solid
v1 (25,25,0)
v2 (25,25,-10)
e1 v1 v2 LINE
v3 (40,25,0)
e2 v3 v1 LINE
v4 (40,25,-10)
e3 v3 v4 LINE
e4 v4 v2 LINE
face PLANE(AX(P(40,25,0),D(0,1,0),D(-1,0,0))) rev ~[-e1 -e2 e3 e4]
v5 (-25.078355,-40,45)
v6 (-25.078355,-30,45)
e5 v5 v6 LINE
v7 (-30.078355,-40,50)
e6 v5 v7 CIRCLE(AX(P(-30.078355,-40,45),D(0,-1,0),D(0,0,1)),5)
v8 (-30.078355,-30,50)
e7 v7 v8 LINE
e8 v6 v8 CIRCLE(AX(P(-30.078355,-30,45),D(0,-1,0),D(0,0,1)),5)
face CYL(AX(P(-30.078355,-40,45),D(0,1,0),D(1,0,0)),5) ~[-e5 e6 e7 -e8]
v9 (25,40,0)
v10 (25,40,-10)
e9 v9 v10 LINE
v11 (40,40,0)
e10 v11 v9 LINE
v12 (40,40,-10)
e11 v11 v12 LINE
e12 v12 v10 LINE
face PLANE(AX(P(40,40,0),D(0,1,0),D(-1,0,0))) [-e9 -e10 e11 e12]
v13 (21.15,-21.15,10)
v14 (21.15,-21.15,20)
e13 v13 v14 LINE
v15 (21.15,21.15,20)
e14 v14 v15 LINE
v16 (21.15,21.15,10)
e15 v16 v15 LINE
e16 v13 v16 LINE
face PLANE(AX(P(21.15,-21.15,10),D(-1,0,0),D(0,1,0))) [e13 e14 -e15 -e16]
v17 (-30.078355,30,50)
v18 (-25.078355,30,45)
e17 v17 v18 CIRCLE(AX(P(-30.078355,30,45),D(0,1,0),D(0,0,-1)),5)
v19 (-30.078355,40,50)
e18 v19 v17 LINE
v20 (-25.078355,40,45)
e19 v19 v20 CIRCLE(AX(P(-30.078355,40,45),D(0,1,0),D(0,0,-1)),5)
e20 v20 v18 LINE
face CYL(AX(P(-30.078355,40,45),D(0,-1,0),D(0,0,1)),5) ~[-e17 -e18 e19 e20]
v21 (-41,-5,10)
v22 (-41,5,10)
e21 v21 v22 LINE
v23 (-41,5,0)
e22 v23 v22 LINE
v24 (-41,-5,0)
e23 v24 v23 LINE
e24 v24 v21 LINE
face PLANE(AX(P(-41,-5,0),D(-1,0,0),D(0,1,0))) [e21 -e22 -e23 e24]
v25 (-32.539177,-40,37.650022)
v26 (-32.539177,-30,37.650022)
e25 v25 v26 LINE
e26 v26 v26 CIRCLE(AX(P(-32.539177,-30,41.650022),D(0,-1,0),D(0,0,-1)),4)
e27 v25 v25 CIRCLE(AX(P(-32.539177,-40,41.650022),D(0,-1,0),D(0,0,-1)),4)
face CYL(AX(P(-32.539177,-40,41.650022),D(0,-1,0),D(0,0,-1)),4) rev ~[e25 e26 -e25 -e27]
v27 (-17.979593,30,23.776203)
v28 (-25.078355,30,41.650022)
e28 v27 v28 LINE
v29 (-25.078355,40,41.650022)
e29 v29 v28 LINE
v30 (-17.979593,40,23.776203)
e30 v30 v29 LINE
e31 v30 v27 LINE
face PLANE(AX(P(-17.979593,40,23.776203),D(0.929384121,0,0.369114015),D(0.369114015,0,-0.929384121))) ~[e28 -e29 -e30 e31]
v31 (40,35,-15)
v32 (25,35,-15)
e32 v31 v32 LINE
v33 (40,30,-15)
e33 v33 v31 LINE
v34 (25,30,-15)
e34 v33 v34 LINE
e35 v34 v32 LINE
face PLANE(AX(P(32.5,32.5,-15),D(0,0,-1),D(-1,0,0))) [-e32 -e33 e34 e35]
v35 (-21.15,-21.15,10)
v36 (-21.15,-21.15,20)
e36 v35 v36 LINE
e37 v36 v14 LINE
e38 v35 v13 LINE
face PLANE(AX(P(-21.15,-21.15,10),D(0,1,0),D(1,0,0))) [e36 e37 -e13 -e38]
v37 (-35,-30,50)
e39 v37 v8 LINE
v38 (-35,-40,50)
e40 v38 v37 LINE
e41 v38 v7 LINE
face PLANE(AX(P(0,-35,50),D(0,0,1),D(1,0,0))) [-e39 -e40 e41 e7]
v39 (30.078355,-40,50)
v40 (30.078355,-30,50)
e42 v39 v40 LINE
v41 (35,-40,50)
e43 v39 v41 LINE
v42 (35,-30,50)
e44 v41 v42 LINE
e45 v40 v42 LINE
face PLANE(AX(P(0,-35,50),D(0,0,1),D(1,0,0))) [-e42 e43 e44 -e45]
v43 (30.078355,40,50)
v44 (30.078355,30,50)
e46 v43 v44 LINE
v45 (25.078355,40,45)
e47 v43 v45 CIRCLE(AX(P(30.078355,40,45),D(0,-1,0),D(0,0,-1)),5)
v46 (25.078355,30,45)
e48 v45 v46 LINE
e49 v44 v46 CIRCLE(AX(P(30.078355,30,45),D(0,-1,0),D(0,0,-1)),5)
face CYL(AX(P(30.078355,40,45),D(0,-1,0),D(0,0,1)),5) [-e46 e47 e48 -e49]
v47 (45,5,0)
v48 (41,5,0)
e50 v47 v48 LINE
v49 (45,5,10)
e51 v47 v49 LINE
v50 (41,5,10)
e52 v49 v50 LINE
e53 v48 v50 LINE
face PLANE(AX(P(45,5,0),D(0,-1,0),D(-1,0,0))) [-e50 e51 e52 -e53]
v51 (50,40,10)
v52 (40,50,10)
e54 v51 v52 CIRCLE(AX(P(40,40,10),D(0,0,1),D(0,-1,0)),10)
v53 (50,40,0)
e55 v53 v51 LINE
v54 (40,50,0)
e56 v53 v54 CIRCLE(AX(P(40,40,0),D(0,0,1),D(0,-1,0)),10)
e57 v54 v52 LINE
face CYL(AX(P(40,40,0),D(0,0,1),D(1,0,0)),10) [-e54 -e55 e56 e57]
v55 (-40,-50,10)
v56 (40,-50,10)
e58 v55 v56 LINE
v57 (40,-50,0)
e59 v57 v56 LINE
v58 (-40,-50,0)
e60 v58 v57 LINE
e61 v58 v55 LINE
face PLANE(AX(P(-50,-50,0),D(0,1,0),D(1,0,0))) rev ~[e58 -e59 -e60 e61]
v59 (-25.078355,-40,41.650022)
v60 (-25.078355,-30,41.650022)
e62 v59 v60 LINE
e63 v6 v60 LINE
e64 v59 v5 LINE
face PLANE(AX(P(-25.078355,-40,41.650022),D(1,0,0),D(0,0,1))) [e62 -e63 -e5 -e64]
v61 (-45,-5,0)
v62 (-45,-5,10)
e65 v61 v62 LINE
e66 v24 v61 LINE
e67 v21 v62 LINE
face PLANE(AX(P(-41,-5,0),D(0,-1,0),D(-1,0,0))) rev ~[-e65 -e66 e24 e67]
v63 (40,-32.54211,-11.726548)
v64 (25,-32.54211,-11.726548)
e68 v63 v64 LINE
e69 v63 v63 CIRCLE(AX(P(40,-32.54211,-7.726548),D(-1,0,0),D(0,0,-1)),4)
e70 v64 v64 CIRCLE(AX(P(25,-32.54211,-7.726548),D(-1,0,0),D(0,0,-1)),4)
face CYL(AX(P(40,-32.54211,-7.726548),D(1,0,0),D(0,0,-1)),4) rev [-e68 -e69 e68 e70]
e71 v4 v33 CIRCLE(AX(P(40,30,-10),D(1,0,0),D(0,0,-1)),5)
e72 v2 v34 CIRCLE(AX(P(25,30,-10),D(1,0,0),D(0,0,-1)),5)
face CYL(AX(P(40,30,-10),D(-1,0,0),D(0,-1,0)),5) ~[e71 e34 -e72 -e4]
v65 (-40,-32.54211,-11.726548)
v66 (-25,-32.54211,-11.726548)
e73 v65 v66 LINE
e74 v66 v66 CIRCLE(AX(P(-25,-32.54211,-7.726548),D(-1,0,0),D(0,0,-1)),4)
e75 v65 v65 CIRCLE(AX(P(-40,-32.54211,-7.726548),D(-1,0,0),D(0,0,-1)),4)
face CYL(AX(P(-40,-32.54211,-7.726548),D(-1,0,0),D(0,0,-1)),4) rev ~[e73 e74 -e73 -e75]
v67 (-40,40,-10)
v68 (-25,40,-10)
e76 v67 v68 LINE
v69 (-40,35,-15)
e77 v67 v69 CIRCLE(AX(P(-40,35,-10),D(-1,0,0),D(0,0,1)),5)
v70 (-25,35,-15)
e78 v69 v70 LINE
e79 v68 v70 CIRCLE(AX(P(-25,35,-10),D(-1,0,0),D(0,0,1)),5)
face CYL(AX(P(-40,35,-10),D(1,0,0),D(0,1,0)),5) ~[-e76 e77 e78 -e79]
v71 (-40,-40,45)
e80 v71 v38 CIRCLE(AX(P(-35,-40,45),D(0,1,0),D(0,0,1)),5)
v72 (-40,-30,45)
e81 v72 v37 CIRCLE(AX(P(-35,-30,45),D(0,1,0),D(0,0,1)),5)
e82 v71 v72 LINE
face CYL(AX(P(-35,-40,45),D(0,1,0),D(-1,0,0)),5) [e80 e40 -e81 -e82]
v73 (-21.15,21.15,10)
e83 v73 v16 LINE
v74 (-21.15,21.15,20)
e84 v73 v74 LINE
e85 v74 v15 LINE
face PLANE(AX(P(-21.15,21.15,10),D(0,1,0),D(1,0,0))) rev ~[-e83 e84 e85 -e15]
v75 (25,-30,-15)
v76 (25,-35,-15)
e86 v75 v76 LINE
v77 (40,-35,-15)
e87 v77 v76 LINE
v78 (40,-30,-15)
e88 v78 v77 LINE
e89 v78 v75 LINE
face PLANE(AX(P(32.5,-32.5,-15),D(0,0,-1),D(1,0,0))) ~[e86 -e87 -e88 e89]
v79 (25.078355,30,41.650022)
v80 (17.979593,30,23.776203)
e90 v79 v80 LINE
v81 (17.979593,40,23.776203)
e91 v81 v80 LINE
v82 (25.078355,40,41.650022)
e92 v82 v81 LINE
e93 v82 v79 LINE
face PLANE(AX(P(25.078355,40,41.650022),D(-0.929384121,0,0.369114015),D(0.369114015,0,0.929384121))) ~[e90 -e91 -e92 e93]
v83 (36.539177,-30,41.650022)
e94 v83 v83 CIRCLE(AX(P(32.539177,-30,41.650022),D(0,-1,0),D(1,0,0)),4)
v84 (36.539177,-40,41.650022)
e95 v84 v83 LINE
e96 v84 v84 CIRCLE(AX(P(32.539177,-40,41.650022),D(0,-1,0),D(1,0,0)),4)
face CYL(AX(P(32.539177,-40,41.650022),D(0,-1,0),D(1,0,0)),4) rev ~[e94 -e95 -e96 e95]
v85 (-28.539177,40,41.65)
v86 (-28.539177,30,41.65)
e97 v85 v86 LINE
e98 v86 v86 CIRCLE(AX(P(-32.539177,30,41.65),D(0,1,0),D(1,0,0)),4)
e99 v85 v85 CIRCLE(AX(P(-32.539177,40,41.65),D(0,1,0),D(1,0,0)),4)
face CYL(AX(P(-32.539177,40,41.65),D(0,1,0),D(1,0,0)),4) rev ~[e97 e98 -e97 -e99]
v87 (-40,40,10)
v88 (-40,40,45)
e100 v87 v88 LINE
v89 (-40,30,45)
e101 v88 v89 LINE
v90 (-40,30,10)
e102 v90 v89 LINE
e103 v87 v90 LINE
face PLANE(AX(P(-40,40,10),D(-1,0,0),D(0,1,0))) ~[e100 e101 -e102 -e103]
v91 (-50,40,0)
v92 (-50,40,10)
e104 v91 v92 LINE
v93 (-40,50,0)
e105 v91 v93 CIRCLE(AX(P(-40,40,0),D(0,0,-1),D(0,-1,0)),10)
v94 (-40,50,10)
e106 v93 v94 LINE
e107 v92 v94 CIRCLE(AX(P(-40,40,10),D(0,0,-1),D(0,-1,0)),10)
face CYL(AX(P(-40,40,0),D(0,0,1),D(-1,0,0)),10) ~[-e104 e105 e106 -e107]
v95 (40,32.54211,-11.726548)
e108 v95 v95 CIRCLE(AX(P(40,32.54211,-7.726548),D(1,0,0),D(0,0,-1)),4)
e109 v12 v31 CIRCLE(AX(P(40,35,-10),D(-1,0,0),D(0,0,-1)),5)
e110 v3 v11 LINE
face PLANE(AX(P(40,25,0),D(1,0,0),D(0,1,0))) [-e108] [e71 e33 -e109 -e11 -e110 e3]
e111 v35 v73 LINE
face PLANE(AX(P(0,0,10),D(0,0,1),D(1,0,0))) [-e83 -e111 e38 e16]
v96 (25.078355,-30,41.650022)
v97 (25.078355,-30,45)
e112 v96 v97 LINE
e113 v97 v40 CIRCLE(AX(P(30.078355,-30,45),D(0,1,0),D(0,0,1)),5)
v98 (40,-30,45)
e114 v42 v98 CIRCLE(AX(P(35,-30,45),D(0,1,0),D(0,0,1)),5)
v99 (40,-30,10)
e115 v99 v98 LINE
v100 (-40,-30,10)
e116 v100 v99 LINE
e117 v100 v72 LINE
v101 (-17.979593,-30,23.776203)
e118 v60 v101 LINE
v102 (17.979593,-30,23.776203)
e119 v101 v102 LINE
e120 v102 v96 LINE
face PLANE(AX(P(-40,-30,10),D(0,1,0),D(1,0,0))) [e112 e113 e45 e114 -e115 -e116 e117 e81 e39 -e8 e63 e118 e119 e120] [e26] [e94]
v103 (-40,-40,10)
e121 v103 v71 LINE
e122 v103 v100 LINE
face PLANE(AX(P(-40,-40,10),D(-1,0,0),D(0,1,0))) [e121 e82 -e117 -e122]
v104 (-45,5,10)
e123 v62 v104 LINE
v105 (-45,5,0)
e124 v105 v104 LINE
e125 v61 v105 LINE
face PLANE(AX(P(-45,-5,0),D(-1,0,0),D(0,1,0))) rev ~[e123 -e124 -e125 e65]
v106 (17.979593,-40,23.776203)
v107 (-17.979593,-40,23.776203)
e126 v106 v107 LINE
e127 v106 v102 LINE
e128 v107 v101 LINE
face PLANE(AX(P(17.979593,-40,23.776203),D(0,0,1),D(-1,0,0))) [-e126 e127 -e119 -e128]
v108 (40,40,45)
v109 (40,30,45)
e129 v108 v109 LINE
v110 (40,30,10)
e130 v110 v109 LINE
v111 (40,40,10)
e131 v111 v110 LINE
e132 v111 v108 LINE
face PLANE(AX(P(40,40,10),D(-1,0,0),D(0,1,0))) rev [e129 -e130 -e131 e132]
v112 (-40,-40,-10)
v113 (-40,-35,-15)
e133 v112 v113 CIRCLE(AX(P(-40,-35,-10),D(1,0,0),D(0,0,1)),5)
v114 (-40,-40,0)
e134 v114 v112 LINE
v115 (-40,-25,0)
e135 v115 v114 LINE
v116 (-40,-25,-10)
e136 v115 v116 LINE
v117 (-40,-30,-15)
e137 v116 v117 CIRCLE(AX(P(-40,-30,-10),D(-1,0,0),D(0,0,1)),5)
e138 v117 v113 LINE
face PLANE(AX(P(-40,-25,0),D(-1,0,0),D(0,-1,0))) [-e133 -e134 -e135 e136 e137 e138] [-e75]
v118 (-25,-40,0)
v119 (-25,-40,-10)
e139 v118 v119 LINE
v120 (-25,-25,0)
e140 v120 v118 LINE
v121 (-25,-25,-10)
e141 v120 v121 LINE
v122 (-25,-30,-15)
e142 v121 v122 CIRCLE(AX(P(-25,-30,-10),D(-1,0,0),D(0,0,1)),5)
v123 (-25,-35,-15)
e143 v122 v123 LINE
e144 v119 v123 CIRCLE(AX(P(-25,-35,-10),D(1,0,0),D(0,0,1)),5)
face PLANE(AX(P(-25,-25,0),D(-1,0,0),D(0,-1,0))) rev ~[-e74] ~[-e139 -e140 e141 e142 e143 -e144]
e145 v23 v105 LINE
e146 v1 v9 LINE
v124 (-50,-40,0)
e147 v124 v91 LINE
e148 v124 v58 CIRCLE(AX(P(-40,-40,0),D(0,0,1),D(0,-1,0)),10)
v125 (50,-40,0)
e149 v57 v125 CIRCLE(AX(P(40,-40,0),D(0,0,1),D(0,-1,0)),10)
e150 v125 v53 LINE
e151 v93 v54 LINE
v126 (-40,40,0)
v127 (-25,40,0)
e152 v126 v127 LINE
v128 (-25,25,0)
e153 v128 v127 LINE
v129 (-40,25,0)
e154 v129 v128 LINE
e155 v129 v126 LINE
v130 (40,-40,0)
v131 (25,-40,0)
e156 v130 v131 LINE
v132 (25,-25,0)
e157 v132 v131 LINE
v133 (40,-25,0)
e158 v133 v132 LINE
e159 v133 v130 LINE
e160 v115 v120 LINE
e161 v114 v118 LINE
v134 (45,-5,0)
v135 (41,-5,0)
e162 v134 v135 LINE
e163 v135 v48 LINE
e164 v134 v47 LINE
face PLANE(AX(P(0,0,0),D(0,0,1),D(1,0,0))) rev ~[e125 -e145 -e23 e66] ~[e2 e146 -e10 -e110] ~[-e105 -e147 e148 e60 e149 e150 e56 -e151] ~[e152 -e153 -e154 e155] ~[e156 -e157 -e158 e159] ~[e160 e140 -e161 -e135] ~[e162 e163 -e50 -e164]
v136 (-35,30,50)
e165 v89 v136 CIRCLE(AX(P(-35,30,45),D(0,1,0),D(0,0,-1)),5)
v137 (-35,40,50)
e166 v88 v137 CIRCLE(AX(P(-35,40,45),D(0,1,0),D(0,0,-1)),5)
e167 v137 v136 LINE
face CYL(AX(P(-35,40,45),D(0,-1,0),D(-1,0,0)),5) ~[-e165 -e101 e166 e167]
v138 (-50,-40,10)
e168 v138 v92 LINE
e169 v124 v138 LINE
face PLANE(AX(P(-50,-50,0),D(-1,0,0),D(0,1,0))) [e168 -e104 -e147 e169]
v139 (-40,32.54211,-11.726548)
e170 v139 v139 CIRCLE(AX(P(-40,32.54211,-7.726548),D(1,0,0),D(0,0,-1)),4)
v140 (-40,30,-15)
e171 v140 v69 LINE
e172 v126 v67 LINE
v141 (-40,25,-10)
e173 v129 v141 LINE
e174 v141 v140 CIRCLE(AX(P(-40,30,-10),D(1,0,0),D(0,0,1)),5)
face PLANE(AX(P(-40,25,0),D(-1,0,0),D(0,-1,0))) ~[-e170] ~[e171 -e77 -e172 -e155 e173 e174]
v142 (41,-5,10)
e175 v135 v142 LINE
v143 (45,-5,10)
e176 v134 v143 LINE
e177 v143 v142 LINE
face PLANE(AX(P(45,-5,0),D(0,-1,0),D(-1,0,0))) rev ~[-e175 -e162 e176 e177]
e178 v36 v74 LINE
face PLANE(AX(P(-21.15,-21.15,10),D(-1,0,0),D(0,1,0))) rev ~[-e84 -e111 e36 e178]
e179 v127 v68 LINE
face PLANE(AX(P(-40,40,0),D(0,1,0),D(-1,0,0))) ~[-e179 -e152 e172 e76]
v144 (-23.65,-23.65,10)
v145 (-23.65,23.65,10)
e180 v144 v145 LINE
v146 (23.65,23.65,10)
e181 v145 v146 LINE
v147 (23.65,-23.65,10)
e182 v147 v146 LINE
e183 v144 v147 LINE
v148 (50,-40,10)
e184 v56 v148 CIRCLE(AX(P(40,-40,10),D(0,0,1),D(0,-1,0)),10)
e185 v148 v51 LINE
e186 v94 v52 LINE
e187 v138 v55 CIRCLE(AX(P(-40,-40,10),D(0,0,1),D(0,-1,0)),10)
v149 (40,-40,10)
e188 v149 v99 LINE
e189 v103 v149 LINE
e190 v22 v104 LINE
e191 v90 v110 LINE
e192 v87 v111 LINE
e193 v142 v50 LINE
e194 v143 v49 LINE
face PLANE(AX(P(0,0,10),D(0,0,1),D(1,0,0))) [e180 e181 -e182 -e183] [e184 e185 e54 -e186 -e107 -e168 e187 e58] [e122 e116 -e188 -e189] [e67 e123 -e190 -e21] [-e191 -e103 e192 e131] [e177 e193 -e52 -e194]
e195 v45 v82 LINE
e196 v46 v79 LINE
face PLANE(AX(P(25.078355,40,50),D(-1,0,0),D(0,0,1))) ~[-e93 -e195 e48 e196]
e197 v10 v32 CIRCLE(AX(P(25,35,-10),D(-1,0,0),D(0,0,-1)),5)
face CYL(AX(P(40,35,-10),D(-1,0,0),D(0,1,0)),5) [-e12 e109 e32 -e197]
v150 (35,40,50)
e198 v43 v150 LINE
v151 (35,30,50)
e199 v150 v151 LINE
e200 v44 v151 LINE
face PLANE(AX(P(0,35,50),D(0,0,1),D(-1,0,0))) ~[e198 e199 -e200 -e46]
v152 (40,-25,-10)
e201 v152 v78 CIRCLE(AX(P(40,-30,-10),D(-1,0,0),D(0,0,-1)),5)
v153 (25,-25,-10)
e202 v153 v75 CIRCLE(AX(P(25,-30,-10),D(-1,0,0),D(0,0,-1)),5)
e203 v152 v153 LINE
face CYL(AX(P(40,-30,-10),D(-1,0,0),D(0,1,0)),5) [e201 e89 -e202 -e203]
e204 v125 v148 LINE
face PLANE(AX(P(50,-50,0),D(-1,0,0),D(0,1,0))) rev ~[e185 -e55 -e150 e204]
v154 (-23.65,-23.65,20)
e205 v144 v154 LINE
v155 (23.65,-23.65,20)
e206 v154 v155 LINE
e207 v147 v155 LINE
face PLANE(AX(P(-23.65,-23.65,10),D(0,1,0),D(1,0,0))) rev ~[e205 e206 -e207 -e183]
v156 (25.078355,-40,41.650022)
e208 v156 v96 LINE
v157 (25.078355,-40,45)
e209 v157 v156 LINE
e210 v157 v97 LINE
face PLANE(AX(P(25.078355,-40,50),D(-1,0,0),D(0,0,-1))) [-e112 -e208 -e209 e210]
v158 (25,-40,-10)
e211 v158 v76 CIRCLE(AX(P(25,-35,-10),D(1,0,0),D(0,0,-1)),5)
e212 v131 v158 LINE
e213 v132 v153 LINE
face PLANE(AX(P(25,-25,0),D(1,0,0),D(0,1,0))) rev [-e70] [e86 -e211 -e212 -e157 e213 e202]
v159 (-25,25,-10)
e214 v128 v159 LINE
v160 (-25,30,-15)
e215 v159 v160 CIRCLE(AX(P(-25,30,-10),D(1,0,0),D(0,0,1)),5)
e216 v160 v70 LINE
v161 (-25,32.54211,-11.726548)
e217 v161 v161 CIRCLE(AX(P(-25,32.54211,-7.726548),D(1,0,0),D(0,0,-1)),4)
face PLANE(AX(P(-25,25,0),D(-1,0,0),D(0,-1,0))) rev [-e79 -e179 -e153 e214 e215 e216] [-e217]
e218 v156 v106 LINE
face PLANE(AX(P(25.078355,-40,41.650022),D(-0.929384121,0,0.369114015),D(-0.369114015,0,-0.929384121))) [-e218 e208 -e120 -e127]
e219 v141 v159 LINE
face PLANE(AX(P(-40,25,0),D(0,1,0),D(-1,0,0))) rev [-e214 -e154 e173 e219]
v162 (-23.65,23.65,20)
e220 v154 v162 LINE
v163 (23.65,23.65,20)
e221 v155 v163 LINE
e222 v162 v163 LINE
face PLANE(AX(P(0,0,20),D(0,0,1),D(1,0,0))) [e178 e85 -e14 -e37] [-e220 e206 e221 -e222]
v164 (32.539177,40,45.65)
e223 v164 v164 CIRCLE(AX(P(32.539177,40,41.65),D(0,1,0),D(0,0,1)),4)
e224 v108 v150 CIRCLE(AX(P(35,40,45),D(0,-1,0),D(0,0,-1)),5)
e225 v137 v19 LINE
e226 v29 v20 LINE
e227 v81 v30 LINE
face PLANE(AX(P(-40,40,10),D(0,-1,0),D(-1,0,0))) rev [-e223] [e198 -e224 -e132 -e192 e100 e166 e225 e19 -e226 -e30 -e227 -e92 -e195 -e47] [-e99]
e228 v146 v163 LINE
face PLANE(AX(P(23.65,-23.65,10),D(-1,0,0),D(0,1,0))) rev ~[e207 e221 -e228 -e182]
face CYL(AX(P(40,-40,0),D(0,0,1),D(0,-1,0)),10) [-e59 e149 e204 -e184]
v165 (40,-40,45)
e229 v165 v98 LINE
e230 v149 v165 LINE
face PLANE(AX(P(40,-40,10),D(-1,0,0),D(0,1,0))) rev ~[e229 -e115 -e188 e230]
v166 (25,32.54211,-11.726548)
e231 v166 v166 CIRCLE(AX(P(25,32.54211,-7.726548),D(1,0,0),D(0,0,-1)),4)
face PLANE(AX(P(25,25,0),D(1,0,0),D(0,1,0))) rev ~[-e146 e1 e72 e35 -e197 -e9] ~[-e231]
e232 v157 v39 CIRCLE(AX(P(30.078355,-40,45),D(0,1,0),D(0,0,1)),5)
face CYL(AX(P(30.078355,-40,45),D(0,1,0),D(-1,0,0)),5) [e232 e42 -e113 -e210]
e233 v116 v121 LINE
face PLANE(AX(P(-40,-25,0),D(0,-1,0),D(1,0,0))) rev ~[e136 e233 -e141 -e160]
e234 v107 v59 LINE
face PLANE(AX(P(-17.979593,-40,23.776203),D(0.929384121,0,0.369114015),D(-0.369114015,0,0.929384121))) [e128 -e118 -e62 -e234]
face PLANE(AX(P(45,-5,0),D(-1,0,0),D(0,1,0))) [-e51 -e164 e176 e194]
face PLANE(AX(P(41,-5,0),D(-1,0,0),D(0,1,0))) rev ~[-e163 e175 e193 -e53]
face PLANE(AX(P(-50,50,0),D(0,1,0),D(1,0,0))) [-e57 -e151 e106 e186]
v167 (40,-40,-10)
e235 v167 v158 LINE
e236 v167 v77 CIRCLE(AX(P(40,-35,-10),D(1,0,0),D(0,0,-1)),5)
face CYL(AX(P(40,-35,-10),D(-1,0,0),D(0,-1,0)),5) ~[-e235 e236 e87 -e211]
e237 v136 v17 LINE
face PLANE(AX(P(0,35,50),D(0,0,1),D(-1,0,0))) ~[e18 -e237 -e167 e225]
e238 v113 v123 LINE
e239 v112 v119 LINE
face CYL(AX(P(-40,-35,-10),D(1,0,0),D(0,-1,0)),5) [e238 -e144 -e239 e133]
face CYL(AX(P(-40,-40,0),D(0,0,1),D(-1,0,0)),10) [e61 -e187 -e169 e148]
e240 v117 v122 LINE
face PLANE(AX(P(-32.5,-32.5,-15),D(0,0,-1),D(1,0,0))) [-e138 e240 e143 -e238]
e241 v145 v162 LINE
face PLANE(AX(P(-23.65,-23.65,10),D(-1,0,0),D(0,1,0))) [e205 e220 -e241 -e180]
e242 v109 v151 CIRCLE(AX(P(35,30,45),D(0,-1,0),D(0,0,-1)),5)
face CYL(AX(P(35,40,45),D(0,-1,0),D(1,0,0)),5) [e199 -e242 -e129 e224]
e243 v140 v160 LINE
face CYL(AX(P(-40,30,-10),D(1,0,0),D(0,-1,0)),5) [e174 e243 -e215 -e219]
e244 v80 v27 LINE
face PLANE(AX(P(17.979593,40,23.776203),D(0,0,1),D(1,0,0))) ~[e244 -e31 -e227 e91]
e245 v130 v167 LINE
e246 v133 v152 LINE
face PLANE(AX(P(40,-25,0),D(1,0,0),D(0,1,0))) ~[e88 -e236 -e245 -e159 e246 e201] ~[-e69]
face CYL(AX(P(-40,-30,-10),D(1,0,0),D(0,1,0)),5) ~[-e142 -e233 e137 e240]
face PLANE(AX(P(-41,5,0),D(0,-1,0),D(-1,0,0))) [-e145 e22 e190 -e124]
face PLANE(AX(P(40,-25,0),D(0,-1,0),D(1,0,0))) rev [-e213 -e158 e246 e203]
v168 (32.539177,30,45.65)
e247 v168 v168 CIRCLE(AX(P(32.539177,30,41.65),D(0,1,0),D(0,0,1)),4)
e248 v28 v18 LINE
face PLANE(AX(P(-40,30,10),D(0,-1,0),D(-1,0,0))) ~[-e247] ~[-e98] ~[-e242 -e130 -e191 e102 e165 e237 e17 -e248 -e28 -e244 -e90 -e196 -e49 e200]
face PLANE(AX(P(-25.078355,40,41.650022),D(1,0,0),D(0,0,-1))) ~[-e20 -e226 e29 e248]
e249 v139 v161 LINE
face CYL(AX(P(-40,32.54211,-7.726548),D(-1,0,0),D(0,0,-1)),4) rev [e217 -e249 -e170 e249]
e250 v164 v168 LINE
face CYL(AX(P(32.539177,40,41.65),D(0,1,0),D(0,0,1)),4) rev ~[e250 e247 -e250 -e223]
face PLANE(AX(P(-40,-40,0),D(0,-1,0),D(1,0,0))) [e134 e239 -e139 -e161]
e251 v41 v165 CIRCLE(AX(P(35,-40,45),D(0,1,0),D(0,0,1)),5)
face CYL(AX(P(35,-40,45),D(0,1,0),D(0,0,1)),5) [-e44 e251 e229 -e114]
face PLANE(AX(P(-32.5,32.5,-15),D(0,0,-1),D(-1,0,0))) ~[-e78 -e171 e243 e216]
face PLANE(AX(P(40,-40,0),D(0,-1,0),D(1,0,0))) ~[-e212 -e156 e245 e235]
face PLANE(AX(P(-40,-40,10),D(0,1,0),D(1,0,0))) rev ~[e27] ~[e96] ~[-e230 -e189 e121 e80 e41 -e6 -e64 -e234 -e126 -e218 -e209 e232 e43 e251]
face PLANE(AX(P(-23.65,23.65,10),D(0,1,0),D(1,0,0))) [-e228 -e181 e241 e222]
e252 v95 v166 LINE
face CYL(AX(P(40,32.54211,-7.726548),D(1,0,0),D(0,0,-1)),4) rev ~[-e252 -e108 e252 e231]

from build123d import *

# Parameters (mm, degrees)
SCHIZZO1_W                   = 100
SCHIZZO1_H                   = 100
ESTRUSIONE_ESTRUSIONE1_DEPTH = 10
RACCORDO1_R                  = 10
SCHIZZO6_W                   = 15
SCHIZZO6_H                   = 15
ESTRUSIONE_ESTRUSIONE2_DEPTH = 15
RACCORDO2_R                  = 5
SCHIZZO7_R                   = 4
TAGLIO_ESTRUSIONE1_DEPTH     = 15
RACCORDO3_R                  = 5
SPECCHIA6_COPY_1_SKETCH_W    = 15
SPECCHIA6_COPY_1_SKETCH_H    = 15
SPECCHIA6_COPY_1_DEPTH       = 15
SPECCHIA6_COPY_2_SKETCH_R    = 4
SPECCHIA6_COPY_2_DEPTH       = 15
SPECCHIA6_COPY_3_SKETCH_W    = 15
SPECCHIA6_COPY_3_SKETCH_H    = 15
SPECCHIA6_COPY_3_DEPTH       = 15
SPECCHIA6_COPY_4_SKETCH_R    = 4
SPECCHIA6_COPY_4_DEPTH       = 15
RACCORDO3_OF_SPECCHIA6_R     = 5
RACCORDO4_R                  = 5
SCHIZZO8_W                   = 47.3
SCHIZZO8_H                   = 47.3
SCHIZZO8_W_2                 = 42.3
SCHIZZO8_H_2                 = 42.3
ESTRUSIONE_ESTRUSIONE4_DEPTH = 10
SCHIZZO10_W                  = 80
SCHIZZO10_H                  = 10
ESTRUSIONE_ESTRUSIONE6_DEPTH = 40
SCHIZZO11_R                  = 4
TAGLIO_ESTRUSIONE4_DEPTH     = 30
SCHIZZO11_4_R                = 4
TAGLIO_ESTRUSIONE5_DEPTH     = 30
RACCORDO5_R                  = 5
RACCORDO6_R                  = 5
TAGLIO_ESTRUSIONE6_DEPTH     = 30
RACCORDO7_R                  = 5
RACCORDO8_R                  = 5
RACCORDO9_R                  = 5
SCHIZZO15_R                  = 4
TAGLIO_ESTRUSIONE7_DEPTH     = 30
SCHIZZO15_3_R                = 4
TAGLIO_ESTRUSIONE8_DEPTH     = 30
SCHIZZO16_W                  = 4
SCHIZZO16_H                  = 10
TAGLIO_ESTRUSIONE11_DEPTH    = 10


with BuildPart() as part:
    # Schizzo1 → Estrusione-Estrusione1 (new body)
    with BuildSketch(Plane.XY):
        Rectangle(SCHIZZO1_W, SCHIZZO1_H)
    extrude(amount=ESTRUSIONE_ESTRUSIONE1_DEPTH)

    # Raccordo1
    raccordo1_edges = [part.edges().sort_by_distance(p)[0] for p in [
        (50, -50, 5),
        (-50, -50, 5),
        (50, 50, 5),
        (-50, 50, 5),
    ]]
    fillet(raccordo1_edges, radius=RACCORDO1_R)

    # Schizzo6 → Estrusione-Estrusione2 (add)
    with BuildSketch(Plane(origin=(0, 0, 0), x_dir=(-1, 0, 0), z_dir=(0, 0, -1))):
        with Locations((-32.5, 32.5)):
            Rectangle(SCHIZZO6_W, SCHIZZO6_H)
    estrusione_estrusione2 = extrude(amount=ESTRUSIONE_ESTRUSIONE2_DEPTH)

    # Raccordo2
    raccordo2_edges = [part.edges().sort_by_distance(p)[0] for p in [
        (32.5, 25, -15),
        (32.5, 40, -15),
    ]]
    fillet(raccordo2_edges, radius=RACCORDO2_R)

    # Schizzo7 → Taglio-Estrusione1 (cut)
    with BuildSketch(Plane(origin=(40, 0, 0), x_dir=(0, 0, -1), z_dir=(1, 0, 0))):
        with Locations((7.72654806, 32.54210957)):
            Circle(SCHIZZO7_R)
    taglio_estrusione1 = extrude(amount=-TAGLIO_ESTRUSIONE1_DEPTH, mode=Mode.SUBTRACT)

    # Specchia3: Estrusione-Estrusione2, Taglio-Estrusione1 across plane
    add(estrusione_estrusione2.mirror(Plane(origin=(0, 0, 0), x_dir=(0, 0, 1), z_dir=(1, 0, 0))))
    add(taglio_estrusione1.mirror(Plane(origin=(0, 0, 0), x_dir=(0, 0, 1), z_dir=(1, 0, 0))), mode=Mode.SUBTRACT)

    # Raccordo3
    raccordo3_edges = [part.edges().sort_by_distance(p)[0] for p in [
        (-32.5, 25, -15),
        (-32.5, 40, -15),
    ]]
    fillet(raccordo3_edges, radius=RACCORDO3_R)

    # Specchia6 copy 1 sketch → Specchia6 copy 1 (add)
    with BuildSketch(Plane(origin=(0, 0, 0), x_dir=(1, 0, 0), z_dir=(0, 0, -1))):
        with Locations((-32.5, 32.5)):
            Rectangle(SPECCHIA6_COPY_1_SKETCH_W, SPECCHIA6_COPY_1_SKETCH_H)
    extrude(amount=SPECCHIA6_COPY_1_DEPTH)

    # Specchia6 copy 2 sketch → Specchia6 copy 2 (cut)
    with BuildSketch(Plane(origin=(-40, 0, 0), x_dir=(0, 0, -1), z_dir=(-1, 0, 0))):
        with Locations((7.72654806, 32.54210957)):
            Circle(SPECCHIA6_COPY_2_SKETCH_R)
    extrude(amount=-SPECCHIA6_COPY_2_DEPTH, mode=Mode.SUBTRACT)

    # Specchia6 copy 3 sketch → Specchia6 copy 3 (add)
    with BuildSketch(Plane(origin=(0, 0, 0), x_dir=(-1, 0, 0), z_dir=(0, 0, -1))):
        with Locations((-32.5, -32.5)):
            Rectangle(SPECCHIA6_COPY_3_SKETCH_W, SPECCHIA6_COPY_3_SKETCH_H)
    extrude(amount=SPECCHIA6_COPY_3_DEPTH)

    # Specchia6 copy 4 sketch → Specchia6 copy 4 (cut)
    with BuildSketch(Plane(origin=(40, 0, 0), x_dir=(0, 0, -1), z_dir=(1, 0, 0))):
        with Locations((7.72654806, -32.54210957)):
            Circle(SPECCHIA6_COPY_4_SKETCH_R)
    extrude(amount=-SPECCHIA6_COPY_4_DEPTH, mode=Mode.SUBTRACT)

    # Raccordo3 of Specchia6
    raccordo3_of_specchia6_edges = [part.edges().sort_by_distance(p)[0] for p in [
        (-32.5, -25, -15),
        (-32.5, -40, -15),
    ]]
    fillet(raccordo3_of_specchia6_edges, radius=RACCORDO3_OF_SPECCHIA6_R)

    # Raccordo4
    raccordo4_edges = [part.edges().sort_by_distance(p)[0] for p in [
        (32.5, -40, -15),
        (32.5, -25, -15),
    ]]
    fillet(raccordo4_edges, radius=RACCORDO4_R)

    # Schizzo8 → Estrusione-Estrusione4 (add)
    with BuildSketch(Plane.XY.offset(10)):
        Rectangle(SCHIZZO8_W, SCHIZZO8_H)
        Rectangle(SCHIZZO8_W_2, SCHIZZO8_H_2, mode=Mode.SUBTRACT)
    extrude(amount=ESTRUSIONE_ESTRUSIONE4_DEPTH)

    # Schizzo10 → Estrusione-Estrusione6 (add)
    with BuildSketch(Plane.XY.offset(10)):
        with Locations((0, -35)):
            Rectangle(SCHIZZO10_W, SCHIZZO10_H)
    estrusione_estrusione6 = extrude(amount=ESTRUSIONE_ESTRUSIONE6_DEPTH)

    # Schizzo11 → Taglio-Estrusione4 (cut)
    with BuildSketch(Plane.XZ.offset(40)):
        with Locations((32.539177419, 41.650021723)):
            Circle(SCHIZZO11_R)
    extrude(amount=-TAGLIO_ESTRUSIONE4_DEPTH, mode=Mode.SUBTRACT)

    # Schizzo11<4> → Taglio-Estrusione5 (cut)
    with BuildSketch(Plane.XZ.offset(40)):
        with Locations((-32.539177419, 41.650021723)):
            Circle(SCHIZZO11_4_R)
        with Locations((32.539177419, 41.650021723)):
            Circle(SCHIZZO11_4_R)
    extrude(amount=-TAGLIO_ESTRUSIONE5_DEPTH, mode=Mode.SUBTRACT)

    # Raccordo5
    raccordo5_edges = [part.edges().sort_by_distance(p)[0] for p in [
        (-40, -35, 50),
    ]]
    fillet(raccordo5_edges, radius=RACCORDO5_R)

    # Raccordo6
    raccordo6_edges = [part.edges().sort_by_distance(p)[0] for p in [
        (40, -35, 50),
    ]]
    fillet(raccordo6_edges, radius=RACCORDO6_R)

    # Schizzo14 → Taglio-Estrusione6 (cut)
    with BuildSketch(Plane.XZ.offset(40)):
        Polygon((-25.078354838, 41.650021723), (-25.078354838, 50), (25.078354838, 50), (25.078354838, 41.650021723), (17.979592653, 23.776203366), (-17.979592653, 23.776203366), align=None)
    taglio_estrusione6 = extrude(amount=-TAGLIO_ESTRUSIONE6_DEPTH, mode=Mode.SUBTRACT)

    # Raccordo7
    raccordo7_edges = [part.edges().sort_by_distance(p)[0] for p in [
        (-25.078354838, -35, 50),
    ]]
    fillet(raccordo7_edges, radius=RACCORDO7_R)

    # Raccordo8
    raccordo8_edges = [part.edges().sort_by_distance(p)[0] for p in [
        (25.078354838, -35, 50),
    ]]
    fillet(raccordo8_edges, radius=RACCORDO8_R)

    # Specchia13: Estrusione-Estrusione6 across plane
    add(estrusione_estrusione6.mirror(Plane.ZX))

    # Specchia14: Estrusione-Estrusione6, Taglio-Estrusione6 across plane
    add(estrusione_estrusione6.mirror(Plane.ZX))
    add(taglio_estrusione6.mirror(Plane.ZX), mode=Mode.SUBTRACT)

    # Raccordo9
    raccordo9_edges = [part.edges().sort_by_distance(p)[0] for p in [
        (-40, 35, 50),
        (-25.078354838, 35, 50),
        (40, 35, 50),
        (25.078354838, 35, 50),
    ]]
    fillet(raccordo9_edges, radius=RACCORDO9_R)

    # Schizzo15 → Taglio-Estrusione7 (cut)
    with BuildSketch(Plane(origin=(0, 40, 0), x_dir=(1, 0, 0), z_dir=(0, 1, 0))):
        with Locations((32.539177419, -41.65)):
            Circle(SCHIZZO15_R)
    extrude(amount=-TAGLIO_ESTRUSIONE7_DEPTH, mode=Mode.SUBTRACT)

    # Schizzo15<3> → Taglio-Estrusione8 (cut)
    with BuildSketch(Plane(origin=(0, 40, 0), x_dir=(1, 0, 0), z_dir=(0, 1, 0))):
        with Locations((32.539177419, -41.65)):
            Circle(SCHIZZO15_3_R)
        with Locations((-32.539177419, -41.65)):
            Circle(SCHIZZO15_3_R)
    extrude(amount=-TAGLIO_ESTRUSIONE8_DEPTH, mode=Mode.SUBTRACT)

    # Schizzo16 → Taglio-Estrusione11 (cut)
    with BuildSketch(Plane(origin=(0, 0, 0), x_dir=(-1, 0, 0), z_dir=(0, 0, -1))):
        with Locations((-43, 0)):
            Rectangle(SCHIZZO16_W, SCHIZZO16_H)
        with Locations((43, 0)):
            Rectangle(SCHIZZO16_W, SCHIZZO16_H)
    extrude(amount=-TAGLIO_ESTRUSIONE11_DEPTH, mode=Mode.SUBTRACT)


solid = part.part
